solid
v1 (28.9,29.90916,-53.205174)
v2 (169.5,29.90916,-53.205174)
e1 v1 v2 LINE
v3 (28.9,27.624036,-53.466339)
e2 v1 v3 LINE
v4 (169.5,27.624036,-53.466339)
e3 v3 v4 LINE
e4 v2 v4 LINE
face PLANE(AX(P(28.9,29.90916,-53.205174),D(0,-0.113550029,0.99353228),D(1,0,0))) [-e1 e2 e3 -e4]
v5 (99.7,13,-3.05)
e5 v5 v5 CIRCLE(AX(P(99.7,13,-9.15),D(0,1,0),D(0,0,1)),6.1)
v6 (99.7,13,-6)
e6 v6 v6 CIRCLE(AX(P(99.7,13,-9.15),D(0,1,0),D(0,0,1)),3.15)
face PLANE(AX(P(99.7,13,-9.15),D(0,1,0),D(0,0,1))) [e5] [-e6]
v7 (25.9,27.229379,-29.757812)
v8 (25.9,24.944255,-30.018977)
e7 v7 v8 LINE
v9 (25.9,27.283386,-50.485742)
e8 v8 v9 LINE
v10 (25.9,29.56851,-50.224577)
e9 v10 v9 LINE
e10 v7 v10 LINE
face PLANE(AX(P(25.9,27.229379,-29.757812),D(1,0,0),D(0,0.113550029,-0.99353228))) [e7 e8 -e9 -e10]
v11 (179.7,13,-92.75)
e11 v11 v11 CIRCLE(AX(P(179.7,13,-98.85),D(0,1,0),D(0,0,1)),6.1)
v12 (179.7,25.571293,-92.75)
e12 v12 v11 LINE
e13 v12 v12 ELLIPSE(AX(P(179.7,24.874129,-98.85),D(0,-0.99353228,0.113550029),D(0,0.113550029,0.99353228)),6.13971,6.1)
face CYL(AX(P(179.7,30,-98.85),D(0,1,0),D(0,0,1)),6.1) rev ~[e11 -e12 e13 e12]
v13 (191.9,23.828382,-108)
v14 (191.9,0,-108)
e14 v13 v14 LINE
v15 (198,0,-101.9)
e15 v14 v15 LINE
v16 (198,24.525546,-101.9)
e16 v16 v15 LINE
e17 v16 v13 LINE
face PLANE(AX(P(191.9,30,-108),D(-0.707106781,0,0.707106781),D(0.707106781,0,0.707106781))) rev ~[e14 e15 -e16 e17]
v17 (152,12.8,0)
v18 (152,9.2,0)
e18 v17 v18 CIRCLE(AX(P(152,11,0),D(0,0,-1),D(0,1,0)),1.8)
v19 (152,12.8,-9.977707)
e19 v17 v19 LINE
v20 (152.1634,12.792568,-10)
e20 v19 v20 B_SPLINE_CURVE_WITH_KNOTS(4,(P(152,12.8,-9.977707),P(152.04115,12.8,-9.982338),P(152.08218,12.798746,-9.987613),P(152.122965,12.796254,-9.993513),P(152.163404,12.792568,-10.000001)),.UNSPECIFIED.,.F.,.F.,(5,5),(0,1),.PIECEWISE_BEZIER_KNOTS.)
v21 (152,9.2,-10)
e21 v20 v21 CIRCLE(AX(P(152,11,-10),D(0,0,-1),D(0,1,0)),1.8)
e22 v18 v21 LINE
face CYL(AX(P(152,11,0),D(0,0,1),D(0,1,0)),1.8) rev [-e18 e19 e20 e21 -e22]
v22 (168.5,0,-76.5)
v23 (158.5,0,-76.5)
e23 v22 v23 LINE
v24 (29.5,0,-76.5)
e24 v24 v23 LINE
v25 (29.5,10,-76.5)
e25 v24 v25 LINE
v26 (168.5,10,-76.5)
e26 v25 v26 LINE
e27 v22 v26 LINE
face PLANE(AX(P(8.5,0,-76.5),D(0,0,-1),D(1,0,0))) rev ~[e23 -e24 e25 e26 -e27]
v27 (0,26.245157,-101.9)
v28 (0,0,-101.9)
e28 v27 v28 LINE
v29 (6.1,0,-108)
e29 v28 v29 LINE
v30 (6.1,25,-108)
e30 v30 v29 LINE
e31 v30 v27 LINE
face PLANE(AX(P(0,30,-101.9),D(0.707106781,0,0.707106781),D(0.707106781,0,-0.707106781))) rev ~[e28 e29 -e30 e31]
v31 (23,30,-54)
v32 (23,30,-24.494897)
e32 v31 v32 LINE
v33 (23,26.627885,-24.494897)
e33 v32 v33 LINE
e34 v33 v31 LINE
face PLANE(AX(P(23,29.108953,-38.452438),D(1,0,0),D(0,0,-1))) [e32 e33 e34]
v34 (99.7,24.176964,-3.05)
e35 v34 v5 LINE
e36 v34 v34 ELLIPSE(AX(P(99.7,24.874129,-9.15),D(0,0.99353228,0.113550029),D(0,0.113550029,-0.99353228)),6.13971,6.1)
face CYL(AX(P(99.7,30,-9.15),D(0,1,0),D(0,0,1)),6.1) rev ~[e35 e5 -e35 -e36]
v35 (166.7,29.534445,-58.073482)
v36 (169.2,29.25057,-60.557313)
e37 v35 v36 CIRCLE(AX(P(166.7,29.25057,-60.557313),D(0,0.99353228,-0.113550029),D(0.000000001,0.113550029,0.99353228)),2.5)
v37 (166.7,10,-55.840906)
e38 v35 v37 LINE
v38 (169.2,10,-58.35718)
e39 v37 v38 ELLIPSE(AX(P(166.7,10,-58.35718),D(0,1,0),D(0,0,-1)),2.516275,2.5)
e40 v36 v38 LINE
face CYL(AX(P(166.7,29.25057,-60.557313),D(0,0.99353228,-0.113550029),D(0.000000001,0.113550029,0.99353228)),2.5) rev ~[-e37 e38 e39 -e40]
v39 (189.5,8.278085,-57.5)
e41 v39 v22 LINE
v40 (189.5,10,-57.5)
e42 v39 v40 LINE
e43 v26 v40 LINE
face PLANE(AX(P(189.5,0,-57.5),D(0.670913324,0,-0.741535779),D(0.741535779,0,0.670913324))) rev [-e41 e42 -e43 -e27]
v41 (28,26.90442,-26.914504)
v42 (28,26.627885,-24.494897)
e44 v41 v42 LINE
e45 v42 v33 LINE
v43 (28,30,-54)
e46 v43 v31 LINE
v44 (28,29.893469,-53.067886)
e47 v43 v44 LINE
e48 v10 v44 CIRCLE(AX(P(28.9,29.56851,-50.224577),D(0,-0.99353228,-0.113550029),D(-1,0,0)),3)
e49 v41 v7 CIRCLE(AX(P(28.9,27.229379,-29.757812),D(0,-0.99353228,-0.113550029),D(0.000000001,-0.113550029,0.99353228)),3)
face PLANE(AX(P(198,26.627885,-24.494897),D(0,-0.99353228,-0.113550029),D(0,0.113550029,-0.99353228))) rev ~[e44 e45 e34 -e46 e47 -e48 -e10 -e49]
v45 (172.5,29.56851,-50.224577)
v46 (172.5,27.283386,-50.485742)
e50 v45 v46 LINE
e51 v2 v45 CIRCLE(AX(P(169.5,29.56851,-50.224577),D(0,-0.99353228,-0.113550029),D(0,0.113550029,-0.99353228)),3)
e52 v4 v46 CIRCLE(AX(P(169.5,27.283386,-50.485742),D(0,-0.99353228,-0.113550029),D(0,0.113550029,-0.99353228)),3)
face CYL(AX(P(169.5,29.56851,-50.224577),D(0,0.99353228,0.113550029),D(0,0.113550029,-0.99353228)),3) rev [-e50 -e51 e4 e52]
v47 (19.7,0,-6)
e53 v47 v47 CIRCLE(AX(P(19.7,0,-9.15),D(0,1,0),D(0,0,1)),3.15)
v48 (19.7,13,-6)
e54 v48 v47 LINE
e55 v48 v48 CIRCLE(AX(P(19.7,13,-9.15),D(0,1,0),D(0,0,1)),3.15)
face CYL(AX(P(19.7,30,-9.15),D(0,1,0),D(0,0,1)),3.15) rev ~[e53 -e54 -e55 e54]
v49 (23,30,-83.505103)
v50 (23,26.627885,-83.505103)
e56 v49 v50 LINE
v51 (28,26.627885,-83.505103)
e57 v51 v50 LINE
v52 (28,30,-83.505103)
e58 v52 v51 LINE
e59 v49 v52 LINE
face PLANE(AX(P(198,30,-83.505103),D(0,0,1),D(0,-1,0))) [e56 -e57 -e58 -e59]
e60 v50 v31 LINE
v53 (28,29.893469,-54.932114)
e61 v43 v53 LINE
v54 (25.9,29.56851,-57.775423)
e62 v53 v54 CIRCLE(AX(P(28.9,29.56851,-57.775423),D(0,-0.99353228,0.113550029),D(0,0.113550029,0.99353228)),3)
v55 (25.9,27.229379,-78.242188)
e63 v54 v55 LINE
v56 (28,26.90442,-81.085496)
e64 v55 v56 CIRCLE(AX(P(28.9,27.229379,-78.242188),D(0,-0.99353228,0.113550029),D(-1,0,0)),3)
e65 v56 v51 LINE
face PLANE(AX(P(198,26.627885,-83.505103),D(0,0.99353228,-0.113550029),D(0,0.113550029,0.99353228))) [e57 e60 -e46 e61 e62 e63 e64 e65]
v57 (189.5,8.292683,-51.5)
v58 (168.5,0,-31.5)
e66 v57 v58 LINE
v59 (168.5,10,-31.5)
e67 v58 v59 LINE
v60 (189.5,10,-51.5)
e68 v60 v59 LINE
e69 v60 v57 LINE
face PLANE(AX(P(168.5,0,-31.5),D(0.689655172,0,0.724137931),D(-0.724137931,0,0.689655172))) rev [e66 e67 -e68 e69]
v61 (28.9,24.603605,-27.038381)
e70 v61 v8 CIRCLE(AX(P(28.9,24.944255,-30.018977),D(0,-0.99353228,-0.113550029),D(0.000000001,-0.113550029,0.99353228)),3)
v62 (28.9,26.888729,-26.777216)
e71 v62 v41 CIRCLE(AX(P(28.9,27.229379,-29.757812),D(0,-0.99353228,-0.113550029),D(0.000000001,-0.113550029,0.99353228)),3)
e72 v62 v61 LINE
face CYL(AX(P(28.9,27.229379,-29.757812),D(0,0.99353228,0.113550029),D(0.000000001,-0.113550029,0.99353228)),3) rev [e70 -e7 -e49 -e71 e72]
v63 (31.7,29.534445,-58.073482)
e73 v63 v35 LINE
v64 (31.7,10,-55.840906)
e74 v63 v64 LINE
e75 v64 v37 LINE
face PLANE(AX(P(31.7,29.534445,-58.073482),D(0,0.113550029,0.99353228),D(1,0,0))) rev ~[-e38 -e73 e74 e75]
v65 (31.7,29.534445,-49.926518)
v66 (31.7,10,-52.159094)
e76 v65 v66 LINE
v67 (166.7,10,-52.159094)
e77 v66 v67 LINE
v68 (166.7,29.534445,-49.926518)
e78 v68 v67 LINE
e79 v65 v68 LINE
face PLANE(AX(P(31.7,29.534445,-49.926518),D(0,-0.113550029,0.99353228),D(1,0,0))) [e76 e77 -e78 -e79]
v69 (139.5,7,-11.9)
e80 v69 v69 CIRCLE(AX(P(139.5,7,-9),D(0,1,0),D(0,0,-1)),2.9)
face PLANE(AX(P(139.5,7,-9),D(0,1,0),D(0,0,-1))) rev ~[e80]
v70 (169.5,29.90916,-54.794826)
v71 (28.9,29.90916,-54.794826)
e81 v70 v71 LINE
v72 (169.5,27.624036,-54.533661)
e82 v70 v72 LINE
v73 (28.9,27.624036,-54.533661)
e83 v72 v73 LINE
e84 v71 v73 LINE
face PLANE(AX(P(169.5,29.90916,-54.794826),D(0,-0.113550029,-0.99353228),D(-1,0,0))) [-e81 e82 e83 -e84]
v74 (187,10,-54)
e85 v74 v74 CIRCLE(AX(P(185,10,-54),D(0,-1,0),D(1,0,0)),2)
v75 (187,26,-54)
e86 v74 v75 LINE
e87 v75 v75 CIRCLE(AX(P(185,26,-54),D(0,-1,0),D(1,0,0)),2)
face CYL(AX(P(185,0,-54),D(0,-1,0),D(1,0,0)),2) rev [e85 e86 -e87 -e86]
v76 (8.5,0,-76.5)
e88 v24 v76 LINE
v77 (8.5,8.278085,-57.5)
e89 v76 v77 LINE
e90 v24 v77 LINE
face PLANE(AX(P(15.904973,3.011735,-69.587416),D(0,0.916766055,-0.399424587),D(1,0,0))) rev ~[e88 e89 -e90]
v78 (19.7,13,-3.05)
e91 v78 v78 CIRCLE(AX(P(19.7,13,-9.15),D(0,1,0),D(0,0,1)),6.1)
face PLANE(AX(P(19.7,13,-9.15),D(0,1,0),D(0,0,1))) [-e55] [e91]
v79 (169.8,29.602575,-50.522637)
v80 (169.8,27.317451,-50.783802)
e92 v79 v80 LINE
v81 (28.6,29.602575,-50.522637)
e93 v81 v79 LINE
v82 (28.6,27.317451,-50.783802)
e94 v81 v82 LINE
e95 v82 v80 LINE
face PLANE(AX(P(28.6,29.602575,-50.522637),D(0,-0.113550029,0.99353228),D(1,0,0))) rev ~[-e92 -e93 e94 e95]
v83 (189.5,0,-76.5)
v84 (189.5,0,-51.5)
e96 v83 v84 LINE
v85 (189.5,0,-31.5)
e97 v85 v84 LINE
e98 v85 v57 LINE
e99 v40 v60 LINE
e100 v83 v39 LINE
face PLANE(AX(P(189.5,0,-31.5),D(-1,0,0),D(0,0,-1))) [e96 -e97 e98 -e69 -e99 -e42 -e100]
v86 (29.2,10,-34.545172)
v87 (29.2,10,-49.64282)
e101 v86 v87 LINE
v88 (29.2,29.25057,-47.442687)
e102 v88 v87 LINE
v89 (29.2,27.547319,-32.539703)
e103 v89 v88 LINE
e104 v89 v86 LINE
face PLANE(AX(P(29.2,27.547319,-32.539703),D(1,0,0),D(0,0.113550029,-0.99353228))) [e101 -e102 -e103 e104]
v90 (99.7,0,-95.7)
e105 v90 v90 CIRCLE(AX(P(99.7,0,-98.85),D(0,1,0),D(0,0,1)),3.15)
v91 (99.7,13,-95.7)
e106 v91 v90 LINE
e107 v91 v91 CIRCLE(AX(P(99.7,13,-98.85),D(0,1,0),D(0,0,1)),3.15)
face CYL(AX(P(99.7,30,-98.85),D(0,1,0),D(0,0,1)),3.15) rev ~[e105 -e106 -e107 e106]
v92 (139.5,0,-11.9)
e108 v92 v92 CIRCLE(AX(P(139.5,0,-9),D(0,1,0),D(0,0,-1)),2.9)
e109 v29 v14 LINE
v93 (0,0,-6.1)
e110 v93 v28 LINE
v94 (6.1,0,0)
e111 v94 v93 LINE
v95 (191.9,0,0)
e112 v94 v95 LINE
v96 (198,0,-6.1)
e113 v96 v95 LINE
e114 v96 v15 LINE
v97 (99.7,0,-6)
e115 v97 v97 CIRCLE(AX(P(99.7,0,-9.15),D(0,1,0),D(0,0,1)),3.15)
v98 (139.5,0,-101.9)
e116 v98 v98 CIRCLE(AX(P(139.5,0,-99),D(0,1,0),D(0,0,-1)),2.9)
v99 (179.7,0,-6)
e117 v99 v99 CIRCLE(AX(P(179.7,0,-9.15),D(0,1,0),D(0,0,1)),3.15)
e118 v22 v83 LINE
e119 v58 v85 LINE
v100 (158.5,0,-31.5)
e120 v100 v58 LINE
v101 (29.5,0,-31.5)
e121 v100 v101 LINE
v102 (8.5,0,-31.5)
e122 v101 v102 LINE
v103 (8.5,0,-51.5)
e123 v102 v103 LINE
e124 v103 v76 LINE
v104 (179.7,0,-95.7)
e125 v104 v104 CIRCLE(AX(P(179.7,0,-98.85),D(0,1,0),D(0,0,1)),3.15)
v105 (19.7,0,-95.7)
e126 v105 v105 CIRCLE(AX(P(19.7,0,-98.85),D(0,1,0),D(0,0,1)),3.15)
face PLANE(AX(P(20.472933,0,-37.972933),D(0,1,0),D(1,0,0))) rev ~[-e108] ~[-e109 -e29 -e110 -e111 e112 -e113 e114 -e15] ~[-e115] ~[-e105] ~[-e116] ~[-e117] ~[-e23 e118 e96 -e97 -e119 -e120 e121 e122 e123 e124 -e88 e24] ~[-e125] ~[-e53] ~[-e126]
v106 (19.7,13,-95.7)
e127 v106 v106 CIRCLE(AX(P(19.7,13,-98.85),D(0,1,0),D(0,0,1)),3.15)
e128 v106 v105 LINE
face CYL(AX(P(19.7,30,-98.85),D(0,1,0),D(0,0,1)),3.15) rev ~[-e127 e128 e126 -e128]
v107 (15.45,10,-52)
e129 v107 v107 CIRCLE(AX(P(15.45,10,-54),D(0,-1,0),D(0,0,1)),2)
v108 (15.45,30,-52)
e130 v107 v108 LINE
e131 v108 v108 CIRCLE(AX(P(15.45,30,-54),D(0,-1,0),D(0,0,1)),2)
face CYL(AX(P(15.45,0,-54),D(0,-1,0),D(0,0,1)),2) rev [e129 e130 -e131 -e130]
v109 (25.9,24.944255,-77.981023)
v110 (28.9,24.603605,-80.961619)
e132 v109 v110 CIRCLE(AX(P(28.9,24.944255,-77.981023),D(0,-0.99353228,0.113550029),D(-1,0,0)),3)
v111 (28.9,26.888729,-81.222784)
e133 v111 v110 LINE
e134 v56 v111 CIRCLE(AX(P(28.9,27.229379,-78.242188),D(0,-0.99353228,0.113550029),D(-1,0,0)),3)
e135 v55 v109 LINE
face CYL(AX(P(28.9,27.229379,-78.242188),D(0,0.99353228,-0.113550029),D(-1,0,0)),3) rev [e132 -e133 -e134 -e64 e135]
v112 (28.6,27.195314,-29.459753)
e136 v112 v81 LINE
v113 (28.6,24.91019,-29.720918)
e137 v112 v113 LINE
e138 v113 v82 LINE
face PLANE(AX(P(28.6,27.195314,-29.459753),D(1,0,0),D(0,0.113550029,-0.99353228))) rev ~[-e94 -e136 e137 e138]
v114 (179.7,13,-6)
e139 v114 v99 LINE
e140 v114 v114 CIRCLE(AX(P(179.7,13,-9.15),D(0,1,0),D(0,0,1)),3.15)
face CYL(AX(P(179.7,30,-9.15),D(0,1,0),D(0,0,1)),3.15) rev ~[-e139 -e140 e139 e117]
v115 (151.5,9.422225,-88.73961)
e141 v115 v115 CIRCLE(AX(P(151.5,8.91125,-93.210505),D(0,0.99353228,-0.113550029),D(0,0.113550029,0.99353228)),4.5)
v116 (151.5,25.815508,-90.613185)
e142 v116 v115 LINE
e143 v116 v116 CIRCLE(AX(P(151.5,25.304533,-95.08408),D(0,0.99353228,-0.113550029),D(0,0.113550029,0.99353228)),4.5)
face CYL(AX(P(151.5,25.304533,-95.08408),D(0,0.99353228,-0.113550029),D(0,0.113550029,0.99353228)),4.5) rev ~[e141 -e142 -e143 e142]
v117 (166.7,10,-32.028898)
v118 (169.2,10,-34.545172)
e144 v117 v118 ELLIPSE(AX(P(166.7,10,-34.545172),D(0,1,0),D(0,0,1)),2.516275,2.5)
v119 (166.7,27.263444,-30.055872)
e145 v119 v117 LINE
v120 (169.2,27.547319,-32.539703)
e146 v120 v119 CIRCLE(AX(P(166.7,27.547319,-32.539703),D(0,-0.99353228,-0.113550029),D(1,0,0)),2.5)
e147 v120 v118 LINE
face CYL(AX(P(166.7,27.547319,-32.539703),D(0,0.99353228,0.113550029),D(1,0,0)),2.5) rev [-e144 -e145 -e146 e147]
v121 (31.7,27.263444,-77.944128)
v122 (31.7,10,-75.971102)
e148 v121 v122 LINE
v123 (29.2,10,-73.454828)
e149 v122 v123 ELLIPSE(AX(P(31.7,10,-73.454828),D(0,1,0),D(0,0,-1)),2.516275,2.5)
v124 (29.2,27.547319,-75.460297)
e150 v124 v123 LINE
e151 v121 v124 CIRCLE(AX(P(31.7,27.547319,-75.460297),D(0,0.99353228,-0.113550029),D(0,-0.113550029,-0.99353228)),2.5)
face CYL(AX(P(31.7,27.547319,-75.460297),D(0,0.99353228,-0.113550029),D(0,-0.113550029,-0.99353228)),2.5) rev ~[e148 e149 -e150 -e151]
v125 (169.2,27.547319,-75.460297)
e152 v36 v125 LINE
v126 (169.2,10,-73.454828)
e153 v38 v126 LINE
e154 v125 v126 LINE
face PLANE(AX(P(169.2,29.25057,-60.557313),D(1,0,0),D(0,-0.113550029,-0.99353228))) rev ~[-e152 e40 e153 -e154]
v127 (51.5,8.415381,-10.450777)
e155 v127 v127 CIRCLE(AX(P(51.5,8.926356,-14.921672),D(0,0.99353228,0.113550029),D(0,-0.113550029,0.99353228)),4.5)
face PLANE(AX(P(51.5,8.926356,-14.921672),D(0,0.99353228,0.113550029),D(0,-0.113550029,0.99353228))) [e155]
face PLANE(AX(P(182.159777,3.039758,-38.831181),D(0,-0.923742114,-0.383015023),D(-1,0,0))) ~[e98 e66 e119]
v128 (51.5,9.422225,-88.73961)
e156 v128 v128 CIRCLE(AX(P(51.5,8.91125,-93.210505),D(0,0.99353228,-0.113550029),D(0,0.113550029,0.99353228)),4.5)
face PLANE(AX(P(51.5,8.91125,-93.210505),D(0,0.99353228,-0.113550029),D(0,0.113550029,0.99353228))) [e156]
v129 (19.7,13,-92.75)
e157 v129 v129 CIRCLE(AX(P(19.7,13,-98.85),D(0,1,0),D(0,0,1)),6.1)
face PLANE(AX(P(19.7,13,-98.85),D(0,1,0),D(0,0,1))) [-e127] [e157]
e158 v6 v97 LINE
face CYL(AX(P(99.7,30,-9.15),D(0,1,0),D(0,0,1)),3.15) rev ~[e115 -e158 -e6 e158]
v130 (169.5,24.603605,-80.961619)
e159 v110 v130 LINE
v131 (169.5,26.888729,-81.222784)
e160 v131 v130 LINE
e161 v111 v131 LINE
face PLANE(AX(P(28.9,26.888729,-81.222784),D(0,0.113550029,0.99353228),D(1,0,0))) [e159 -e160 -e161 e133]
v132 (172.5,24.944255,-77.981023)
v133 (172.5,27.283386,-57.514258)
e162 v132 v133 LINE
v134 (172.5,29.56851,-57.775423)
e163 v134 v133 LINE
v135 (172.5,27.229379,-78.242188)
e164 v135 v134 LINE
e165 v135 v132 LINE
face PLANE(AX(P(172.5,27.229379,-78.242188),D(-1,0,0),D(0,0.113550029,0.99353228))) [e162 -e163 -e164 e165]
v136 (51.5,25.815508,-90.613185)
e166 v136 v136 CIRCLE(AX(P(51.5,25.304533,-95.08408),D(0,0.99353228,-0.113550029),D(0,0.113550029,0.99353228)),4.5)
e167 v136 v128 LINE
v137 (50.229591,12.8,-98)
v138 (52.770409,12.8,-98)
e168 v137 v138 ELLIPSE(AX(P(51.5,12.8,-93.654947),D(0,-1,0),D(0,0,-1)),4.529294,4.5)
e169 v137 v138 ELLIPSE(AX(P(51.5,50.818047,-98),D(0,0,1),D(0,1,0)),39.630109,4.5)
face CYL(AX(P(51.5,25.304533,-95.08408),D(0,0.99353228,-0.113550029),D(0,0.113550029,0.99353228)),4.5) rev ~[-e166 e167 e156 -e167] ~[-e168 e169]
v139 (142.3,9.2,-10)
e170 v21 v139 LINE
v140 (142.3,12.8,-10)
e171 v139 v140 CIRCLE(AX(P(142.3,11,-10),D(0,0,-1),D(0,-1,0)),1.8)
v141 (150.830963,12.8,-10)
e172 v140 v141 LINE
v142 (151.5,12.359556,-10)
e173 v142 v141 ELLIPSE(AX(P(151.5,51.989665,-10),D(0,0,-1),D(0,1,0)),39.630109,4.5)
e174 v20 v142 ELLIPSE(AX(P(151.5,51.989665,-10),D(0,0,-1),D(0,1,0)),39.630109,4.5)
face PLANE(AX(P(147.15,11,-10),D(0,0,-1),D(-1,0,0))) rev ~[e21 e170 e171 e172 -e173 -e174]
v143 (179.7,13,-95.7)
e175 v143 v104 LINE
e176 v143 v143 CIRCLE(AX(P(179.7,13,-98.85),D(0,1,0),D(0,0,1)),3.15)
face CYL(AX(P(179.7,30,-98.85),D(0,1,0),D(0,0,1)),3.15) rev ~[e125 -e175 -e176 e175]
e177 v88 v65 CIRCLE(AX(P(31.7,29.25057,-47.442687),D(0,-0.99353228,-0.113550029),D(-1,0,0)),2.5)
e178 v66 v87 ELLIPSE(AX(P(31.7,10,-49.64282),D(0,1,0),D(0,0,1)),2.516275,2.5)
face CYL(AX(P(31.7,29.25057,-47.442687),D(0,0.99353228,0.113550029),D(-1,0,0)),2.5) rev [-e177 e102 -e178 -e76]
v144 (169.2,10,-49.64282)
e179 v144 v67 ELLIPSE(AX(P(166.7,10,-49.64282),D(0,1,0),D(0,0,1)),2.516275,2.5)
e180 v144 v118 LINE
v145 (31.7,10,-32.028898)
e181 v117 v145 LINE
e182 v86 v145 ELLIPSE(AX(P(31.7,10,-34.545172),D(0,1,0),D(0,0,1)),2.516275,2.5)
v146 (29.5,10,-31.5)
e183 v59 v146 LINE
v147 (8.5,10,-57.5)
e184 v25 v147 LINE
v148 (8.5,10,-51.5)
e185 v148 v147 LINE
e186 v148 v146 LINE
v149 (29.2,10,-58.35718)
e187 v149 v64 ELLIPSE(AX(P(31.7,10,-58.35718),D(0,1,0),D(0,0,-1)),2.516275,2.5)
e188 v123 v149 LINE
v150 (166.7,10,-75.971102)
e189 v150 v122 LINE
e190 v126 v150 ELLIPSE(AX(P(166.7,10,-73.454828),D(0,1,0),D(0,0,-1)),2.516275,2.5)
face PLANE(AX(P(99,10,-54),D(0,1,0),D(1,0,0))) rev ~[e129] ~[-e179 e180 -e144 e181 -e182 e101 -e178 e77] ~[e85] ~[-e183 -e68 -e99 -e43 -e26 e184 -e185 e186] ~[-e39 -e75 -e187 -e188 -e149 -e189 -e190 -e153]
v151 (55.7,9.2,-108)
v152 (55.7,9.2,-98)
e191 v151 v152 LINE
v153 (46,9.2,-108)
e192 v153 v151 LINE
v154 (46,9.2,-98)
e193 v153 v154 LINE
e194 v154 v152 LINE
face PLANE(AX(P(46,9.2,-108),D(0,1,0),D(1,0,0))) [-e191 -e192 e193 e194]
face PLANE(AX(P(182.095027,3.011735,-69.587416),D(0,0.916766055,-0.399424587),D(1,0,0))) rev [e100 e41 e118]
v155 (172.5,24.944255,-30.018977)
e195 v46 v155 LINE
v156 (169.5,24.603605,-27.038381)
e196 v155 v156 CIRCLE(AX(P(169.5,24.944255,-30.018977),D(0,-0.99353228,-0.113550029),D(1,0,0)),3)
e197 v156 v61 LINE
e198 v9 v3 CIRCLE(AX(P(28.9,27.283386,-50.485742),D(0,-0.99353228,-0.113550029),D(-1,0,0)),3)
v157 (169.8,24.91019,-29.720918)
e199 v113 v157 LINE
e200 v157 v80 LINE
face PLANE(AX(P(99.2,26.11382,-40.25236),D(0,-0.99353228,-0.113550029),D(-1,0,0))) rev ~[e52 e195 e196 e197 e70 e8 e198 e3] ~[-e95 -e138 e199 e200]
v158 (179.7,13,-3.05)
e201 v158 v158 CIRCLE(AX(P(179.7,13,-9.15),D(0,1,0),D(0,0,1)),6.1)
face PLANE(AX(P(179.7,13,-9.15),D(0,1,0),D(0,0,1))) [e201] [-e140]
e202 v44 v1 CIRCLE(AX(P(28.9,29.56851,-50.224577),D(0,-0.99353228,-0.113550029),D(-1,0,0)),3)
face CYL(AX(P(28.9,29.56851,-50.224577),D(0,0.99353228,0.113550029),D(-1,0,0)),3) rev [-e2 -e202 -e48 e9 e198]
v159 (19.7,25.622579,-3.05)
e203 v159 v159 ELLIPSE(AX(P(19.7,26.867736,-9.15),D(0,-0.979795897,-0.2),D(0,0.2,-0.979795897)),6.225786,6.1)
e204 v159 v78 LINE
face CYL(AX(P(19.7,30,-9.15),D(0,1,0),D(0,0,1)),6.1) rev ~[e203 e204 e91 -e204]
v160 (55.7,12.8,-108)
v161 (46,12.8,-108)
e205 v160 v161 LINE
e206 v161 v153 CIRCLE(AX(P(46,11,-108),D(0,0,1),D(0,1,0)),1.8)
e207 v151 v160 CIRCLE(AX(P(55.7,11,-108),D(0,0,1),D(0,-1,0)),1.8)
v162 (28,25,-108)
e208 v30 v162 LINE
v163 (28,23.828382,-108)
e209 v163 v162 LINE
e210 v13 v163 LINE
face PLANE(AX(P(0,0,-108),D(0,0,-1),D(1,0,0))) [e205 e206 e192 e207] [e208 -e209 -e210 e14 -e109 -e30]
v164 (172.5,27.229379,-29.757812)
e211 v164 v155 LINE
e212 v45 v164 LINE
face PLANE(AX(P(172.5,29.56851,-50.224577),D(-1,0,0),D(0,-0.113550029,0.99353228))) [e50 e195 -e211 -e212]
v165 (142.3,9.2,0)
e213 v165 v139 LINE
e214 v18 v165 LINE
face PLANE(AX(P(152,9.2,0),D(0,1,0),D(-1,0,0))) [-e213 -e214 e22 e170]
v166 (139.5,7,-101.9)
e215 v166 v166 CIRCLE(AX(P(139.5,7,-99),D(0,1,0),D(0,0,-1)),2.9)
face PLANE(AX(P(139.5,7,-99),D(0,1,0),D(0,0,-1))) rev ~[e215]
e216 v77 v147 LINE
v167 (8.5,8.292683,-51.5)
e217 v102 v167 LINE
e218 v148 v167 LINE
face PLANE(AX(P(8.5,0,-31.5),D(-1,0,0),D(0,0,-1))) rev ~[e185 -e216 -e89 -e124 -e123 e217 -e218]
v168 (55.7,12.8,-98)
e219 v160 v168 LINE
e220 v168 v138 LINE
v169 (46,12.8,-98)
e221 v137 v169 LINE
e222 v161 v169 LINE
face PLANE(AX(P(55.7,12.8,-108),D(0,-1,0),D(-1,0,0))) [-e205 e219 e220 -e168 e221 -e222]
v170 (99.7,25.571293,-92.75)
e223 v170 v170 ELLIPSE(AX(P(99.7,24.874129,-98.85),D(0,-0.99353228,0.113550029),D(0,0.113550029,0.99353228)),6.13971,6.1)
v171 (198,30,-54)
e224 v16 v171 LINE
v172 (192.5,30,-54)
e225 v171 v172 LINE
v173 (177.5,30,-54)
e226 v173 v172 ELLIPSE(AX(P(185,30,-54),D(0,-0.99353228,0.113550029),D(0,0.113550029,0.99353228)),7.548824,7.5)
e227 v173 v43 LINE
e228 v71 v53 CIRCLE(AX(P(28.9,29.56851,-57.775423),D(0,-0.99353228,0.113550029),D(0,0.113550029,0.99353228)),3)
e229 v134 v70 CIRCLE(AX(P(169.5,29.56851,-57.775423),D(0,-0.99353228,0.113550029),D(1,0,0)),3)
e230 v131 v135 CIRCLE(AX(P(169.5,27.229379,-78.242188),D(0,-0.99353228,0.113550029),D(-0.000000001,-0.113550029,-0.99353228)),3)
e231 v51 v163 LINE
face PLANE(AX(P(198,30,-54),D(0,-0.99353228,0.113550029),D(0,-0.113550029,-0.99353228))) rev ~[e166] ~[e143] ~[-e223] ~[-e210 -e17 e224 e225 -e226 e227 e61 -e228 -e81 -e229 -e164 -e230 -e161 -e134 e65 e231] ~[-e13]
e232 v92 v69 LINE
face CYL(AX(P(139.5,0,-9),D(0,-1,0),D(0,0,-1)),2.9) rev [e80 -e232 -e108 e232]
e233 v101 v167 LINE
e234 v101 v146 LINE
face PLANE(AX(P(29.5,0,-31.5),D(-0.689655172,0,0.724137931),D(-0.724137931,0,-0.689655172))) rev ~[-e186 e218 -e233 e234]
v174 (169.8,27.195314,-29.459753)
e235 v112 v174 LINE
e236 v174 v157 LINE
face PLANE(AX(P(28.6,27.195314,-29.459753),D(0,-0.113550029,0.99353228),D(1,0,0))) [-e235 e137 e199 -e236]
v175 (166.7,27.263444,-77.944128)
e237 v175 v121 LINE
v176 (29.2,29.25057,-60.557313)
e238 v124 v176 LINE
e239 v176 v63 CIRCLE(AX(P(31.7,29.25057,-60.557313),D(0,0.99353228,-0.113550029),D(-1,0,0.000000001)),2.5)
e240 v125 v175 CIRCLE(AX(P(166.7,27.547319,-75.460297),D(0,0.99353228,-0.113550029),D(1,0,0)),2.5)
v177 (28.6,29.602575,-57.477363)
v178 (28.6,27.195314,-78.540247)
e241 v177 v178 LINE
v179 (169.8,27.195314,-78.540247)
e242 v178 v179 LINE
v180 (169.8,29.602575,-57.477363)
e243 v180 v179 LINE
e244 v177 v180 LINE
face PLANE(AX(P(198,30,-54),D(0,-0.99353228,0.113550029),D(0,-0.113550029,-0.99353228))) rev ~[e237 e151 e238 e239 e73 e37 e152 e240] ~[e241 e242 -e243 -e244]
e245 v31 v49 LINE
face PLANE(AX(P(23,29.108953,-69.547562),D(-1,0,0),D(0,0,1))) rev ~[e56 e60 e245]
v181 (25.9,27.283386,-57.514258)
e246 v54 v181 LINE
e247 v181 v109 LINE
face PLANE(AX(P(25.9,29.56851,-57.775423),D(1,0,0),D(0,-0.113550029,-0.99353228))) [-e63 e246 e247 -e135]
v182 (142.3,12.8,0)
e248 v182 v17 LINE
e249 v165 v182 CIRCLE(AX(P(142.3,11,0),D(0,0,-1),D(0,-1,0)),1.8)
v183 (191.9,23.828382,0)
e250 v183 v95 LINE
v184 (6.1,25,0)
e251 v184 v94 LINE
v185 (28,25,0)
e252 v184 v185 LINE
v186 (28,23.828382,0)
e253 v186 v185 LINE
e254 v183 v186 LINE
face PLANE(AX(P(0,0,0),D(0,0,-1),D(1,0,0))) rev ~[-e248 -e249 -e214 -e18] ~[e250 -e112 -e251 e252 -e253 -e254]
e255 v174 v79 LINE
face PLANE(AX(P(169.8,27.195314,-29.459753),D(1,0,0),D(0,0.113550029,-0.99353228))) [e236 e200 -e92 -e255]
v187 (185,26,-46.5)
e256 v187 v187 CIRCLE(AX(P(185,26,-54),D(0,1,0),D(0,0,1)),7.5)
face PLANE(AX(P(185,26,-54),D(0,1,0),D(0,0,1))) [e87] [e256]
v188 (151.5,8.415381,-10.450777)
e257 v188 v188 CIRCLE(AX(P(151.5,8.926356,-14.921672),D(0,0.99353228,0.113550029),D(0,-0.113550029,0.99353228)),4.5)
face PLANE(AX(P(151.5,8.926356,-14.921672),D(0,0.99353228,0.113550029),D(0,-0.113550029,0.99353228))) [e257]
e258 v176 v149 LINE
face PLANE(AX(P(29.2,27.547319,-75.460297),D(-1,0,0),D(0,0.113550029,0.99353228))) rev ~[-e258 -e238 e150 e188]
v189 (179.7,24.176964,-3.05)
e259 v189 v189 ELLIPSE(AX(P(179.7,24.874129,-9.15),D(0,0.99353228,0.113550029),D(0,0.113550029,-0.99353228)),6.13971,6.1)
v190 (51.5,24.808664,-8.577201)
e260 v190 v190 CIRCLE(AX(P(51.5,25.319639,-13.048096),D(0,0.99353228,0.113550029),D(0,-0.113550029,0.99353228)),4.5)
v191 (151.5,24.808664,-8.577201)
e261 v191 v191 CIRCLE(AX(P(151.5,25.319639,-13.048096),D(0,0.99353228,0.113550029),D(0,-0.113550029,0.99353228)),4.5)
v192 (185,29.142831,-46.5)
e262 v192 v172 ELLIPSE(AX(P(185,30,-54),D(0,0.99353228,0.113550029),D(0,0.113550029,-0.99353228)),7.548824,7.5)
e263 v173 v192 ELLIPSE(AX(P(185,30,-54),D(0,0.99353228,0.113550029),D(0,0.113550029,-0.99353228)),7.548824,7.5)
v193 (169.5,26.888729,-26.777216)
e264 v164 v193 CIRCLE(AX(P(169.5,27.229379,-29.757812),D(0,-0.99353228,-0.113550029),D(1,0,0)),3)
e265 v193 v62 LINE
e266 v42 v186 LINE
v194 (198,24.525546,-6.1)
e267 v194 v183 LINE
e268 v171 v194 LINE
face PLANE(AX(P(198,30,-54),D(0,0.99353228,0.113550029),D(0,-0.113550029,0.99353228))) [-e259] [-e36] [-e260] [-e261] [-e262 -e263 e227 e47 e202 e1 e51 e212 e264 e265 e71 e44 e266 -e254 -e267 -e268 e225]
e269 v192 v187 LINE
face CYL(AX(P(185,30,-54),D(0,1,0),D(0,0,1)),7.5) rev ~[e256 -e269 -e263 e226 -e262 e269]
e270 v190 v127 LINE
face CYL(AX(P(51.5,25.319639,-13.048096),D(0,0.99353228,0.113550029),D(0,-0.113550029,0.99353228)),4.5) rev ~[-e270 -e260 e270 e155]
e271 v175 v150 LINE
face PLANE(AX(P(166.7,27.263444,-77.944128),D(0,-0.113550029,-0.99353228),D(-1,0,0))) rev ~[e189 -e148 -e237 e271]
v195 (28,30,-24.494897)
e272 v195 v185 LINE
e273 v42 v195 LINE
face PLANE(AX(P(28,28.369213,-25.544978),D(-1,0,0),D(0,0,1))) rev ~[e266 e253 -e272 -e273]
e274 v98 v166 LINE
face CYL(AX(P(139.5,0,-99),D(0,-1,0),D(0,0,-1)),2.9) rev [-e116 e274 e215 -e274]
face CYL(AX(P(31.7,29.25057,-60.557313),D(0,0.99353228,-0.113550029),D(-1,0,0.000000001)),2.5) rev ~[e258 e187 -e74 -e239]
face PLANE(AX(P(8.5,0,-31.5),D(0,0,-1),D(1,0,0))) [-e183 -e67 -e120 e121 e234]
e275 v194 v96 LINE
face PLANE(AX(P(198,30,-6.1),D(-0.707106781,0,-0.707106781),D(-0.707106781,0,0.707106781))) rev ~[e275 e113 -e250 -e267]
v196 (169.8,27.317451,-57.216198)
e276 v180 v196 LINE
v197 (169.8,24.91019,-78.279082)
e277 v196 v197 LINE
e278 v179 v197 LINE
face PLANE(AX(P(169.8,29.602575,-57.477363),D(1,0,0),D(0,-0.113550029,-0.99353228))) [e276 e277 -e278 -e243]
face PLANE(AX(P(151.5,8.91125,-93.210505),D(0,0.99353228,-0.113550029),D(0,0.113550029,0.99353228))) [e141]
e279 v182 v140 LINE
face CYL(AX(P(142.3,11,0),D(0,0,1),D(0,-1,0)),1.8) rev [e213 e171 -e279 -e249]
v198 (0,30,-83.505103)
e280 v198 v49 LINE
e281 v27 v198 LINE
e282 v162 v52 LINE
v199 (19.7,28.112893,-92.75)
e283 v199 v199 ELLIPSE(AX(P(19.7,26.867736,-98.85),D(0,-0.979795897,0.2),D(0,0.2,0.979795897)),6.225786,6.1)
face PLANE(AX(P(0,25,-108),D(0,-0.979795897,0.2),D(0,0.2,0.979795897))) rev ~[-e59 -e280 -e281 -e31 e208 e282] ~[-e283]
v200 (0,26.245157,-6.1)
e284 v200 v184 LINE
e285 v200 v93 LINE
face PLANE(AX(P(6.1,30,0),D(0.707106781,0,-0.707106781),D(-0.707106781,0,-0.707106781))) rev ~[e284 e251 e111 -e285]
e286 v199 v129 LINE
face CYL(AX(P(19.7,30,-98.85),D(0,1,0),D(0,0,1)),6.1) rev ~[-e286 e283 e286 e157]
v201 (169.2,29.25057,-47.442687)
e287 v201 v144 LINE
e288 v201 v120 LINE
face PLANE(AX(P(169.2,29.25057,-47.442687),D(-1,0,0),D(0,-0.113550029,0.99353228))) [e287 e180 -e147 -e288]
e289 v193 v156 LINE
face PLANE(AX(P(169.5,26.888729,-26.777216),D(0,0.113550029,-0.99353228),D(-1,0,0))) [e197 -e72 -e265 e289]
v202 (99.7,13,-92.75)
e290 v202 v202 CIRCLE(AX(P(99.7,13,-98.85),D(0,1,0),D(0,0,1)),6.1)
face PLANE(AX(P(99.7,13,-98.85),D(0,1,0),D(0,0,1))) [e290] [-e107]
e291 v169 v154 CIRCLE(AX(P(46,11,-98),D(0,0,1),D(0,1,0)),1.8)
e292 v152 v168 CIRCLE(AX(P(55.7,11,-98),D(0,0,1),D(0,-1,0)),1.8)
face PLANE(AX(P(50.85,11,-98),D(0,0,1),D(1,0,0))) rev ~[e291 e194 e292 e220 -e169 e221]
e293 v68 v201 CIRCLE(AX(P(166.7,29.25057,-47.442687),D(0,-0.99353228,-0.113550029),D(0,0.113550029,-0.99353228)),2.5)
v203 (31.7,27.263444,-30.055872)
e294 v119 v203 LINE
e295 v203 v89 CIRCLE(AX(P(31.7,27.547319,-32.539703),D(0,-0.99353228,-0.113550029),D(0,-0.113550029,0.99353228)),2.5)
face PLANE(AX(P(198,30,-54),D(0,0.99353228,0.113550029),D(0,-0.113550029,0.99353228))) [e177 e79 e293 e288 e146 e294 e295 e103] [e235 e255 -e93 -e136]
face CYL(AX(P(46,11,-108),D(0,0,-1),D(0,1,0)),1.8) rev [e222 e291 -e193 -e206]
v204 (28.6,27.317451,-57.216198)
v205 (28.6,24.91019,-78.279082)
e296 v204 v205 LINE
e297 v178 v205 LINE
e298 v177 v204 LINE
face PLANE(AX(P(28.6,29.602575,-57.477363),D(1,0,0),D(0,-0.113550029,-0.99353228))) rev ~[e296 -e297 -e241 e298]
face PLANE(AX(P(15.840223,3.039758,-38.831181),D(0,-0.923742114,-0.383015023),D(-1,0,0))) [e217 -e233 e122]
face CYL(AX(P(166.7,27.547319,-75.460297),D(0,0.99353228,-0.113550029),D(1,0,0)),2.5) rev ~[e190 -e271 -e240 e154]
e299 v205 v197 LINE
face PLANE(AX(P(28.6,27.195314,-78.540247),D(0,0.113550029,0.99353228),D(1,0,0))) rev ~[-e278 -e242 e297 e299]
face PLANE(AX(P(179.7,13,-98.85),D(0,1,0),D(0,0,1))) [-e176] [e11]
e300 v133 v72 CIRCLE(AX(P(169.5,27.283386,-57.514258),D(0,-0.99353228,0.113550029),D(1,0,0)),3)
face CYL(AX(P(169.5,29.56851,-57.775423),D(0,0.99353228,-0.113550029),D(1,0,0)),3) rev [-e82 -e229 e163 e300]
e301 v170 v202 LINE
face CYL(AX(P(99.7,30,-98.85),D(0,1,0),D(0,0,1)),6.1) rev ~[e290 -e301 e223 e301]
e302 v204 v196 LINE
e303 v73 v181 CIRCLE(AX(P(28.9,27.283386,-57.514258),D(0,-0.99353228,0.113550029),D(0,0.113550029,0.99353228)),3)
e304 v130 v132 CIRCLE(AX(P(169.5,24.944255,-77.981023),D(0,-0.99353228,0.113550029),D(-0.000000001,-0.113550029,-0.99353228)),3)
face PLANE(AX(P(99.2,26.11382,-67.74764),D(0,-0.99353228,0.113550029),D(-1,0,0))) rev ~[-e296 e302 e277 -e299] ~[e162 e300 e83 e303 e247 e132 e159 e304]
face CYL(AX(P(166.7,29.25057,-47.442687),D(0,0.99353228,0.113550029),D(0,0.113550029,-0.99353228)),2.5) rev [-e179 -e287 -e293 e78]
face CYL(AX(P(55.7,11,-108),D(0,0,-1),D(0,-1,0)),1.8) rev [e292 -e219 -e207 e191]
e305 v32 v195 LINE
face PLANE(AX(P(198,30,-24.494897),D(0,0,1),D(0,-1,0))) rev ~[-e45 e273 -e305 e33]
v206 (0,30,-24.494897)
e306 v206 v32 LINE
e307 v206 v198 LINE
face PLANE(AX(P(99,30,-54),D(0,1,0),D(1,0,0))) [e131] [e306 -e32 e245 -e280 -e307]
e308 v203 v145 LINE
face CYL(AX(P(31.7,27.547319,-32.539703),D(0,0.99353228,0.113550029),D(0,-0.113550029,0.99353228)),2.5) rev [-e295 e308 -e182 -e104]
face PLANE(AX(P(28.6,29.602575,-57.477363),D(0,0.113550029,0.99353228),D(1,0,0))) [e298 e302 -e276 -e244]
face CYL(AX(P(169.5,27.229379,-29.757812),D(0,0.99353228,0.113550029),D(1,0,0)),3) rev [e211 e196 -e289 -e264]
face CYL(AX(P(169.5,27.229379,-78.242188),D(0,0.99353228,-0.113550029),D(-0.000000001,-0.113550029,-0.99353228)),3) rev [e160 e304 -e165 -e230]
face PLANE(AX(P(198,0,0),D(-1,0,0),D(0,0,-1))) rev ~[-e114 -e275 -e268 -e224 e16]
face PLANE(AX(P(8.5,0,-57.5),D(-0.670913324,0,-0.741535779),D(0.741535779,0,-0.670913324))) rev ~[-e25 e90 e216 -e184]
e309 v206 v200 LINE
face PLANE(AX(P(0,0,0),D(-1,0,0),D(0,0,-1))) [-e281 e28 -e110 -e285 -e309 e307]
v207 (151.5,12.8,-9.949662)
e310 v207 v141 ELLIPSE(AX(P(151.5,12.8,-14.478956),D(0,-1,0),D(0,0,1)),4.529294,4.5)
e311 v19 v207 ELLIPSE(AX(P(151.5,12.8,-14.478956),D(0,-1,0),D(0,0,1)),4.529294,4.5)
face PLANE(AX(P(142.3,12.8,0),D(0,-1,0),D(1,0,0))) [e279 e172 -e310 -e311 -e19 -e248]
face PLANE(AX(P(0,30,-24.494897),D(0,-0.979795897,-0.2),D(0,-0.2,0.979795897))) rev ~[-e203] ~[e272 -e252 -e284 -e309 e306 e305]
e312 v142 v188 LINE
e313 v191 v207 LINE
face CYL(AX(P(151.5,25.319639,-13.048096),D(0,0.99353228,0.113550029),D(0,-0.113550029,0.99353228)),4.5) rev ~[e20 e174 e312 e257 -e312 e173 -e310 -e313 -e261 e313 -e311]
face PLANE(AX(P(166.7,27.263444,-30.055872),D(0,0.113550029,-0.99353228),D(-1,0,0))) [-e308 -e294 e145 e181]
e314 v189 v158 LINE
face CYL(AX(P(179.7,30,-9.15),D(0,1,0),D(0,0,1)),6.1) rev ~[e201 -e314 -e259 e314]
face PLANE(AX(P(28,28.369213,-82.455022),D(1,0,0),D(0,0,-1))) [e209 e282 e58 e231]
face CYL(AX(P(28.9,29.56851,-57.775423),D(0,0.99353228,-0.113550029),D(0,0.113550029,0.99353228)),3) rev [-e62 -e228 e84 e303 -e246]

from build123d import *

# Parameters (mm, degrees)
SKETCH1_W            = 198
SKETCH1_H            = 108
BOSS_EXTRUDE1_DEPTH  = 30
SKETCH4_W            = 181
SKETCH4_H            = 45
CUT_EXTRUDE2_DEPTH   = 10
CUT_EXTRUDE3_DEPTH   = 170
BOSS_EXTRUDE11_DEPTH = 10
CUT_EXTRUDE12_DEPTH  = 170
CUT_EXTRUDE28_DEPTH  = 14.5
CUT_EXTRUDE29_DEPTH  = 14.5
CUT_EXTRUDE40_REACH  = 229.526
CUT_EXTRUDE5_DEPTH   = 28
SKETCH12_R           = 3.15
CUT_EXTRUDE9_DEPTH   = 228.52582271
SKETCH13_R           = 4.5
CUT_EXTRUDE10_DEPTH  = 16.5
SKETCH14_R           = 4.5
CUT_EXTRUDE11_DEPTH  = 16.5
SKETCH41_R           = 2.9
CUT_EXTRUDE21_DEPTH  = 7
CUT_EXTRUDE22_DEPTH  = 10
CUT_EXTRUDE23_DEPTH  = 10
SKETCH6_W            = 141.2
SKETCH6_H            = 21.2
CUT_EXTRUDE32_DEPTH  = 2.3
SKETCH23_W           = 141.2
SKETCH23_H           = 21.2
CUT_EXTRUDE33_DEPTH  = 2.3
CUT_EXTRUDE34_DEPTH  = 55.4
CUT_EXTRUDE35_DEPTH  = 55.4
CUT_EXTRUDE36_DEPTH  = 55.4
SKETCH90_R           = 6.1
CUT_EXTRUDE38_DEPTH  = 17
SKETCH96_R           = 2
CUT_EXTRUDE39_DEPTH  = 228.52582271
SKETCH98_R           = 7.5
CUT_EXTRUDE41_DEPTH  = 4
CUT_EXTRUDE42_DEPTH  = 175
CUT_EXTRUDE43_DEPTH  = 175


with BuildPart() as part:
    # Sketch1 → Boss-Extrude1 (new body)
    with BuildSketch(Plane(origin=(0, 0, 0), x_dir=(1, 0, 0), z_dir=(0, 1, 0))):
        with Locations((99, 54)):
            Rectangle(SKETCH1_W, SKETCH1_H)
    extrude(amount=BOSS_EXTRUDE1_DEPTH)

    # Sketch4 → Cut-Extrude2 (cut)
    with BuildSketch(Plane(origin=(0, 0, 0), x_dir=(1, 0, 0), z_dir=(0, 1, 0))):
        with Locations((99, 54)):
            Rectangle(SKETCH4_W, SKETCH4_H)
    extrude(amount=CUT_EXTRUDE2_DEPTH, mode=Mode.SUBTRACT)

    # Sketch5 → Cut-Extrude3 (cut)
    with BuildSketch(Plane(origin=(198, 0, 0), x_dir=(0, 0, -1), z_dir=(1, 0, 0))):
        Polygon((54, 30), (108, 23.828382143), (108, 30), align=None)
    extrude(amount=-CUT_EXTRUDE3_DEPTH, mode=Mode.SUBTRACT)

    # Sketch53 → Boss-Extrude11 (add)
    with BuildSketch(Plane(origin=(0, 10, 0), x_dir=(-1, 0, 0), z_dir=(0, -1, 0))):
        Polygon((-8.5, 51.5), (-8.5, 31.5), (-39.5, 31.5), align=None)
        Polygon((-8.5, 56.5), (-8.5, 76.5), (-39.5, 76.5), align=None)
        Polygon((-158.5, 76.5), (-189.5, 56.5), (-189.5, 76.5), align=None)
        Polygon((-158.5, 31.5), (-189.5, 51.5), (-189.5, 31.5), align=None)
    extrude(amount=BOSS_EXTRUDE11_DEPTH)

    # Sketch18 → Cut-Extrude12 (cut)
    with BuildSketch(Plane(origin=(198, 0, 0), x_dir=(0, 0, -1), z_dir=(1, 0, 0))):
        Polygon((0, 23.828382143), (0, 30), (54, 30), align=None)
    extrude(amount=-CUT_EXTRUDE12_DEPTH, mode=Mode.SUBTRACT)

    # Izq → Cut-Extrude28 (cut)
    with BuildSketch(Plane(origin=(0, 28.012686094, -12.204810084), x_dir=(1, 0, 0), z_dir=(0, 0.9167660546215654, -0.3994245874925693))):
        Polygon((8.5, 48.862182113), (29.5, 70.132603179), (8.5, 70.132603179), align=None)
    cut_extrude28 = extrude(amount=-CUT_EXTRUDE28_DEPTH, mode=Mode.SUBTRACT)

    # Der → Cut-Extrude29 (cut)
    with BuildSketch(Plane(origin=(0, -11.144923858, -4.62106599), x_dir=(1, 0, 0), z_dir=(0, 0.9237421135716327, 0.38301502270043264))):
        Polygon((8.5, 51.290217599), (29.5, 29.097876578), (8.5, 29.097876578), align=None)
    cut_extrude29 = extrude(amount=-CUT_EXTRUDE29_DEPTH, mode=Mode.SUBTRACT)

    # Cut-Extrude40: up to this face of the body (flat: up to its plane)
    cut_extrude40_end = Plane(part.part.faces().sort_by_distance((99, 10, -54))[0])
    # Sketch97 → Cut-Extrude40 (cut, up to the picked face)
    with BuildSketch(Plane(origin=(0, 0, 0), x_dir=(1, 0, 0), z_dir=(0, 1, 0)), mode=Mode.PRIVATE) as cut_extrude40_sk1:
        Polygon((8.5, 57.5), (29.5, 76.5), (158.5, 76.5), (189.5, 56.5), (189.5, 51.5), (158.5, 31.5), (29.5, 31.5), (8.5, 51.5), align=None)
    cut_extrude40_tool1 = split(extrude(cut_extrude40_sk1.sketch, amount=CUT_EXTRUDE40_REACH, mode=Mode.PRIVATE), bisect_by=cut_extrude40_end, keep=Keep.BOTH, mode=Mode.PRIVATE)
    cut_extrude40 = cut_extrude40_tool1.solids().sort_by(Axis((96.82024, 0, -54.014019), (0, 1, 0)))[0]
    add(cut_extrude40, mode=Mode.SUBTRACT)

    # Mirror2: Cut-Extrude28, Cut-Extrude29, Cut-Extrude40 across plane
    add(cut_extrude28.mirror(Plane(origin=(99, 0, 0), x_dir=(0, 0, 1), z_dir=(1, 0, 0))), mode=Mode.SUBTRACT)
    add(cut_extrude29.mirror(Plane(origin=(99, 0, 0), x_dir=(0, 0, 1), z_dir=(1, 0, 0))), mode=Mode.SUBTRACT)
    add(cut_extrude40.mirror(Plane(origin=(99, 0, 0), x_dir=(0, 0, 1), z_dir=(1, 0, 0))), mode=Mode.SUBTRACT)

    # Sketch7 → Cut-Extrude5 (cut)
    with BuildSketch(Plane(origin=(0, 0, 0), x_dir=(0, 0, -1), z_dir=(1, 0, 0))):
        Polygon((108, 30), (108, 25), (83.505102572, 30), align=None)
        Polygon((0, 25), (0, 30), (24.494897428, 30), align=None)
    extrude(amount=CUT_EXTRUDE5_DEPTH, mode=Mode.SUBTRACT)

    # Sketch12 → Cut-Extrude9 (cut, through all)
    with BuildSketch(Plane(origin=(0, 30, 0), x_dir=(1, 0, 0), z_dir=(0, 1, 0))):
        with Locations(Location((19.7, 98.85, 0), (0, 0, 270))):
            Circle(SKETCH12_R)
        with Locations(Location((99.7, 9.15, 0), (0, 0, 270))):
            Circle(SKETCH12_R)
        with Locations(Location((179.7, 9.15, 0), (0, 0, 270))):
            Circle(SKETCH12_R)
        with Locations(Location((19.7, 9.15, 0), (0, 0, 270))):
            Circle(SKETCH12_R)
        with Locations(Location((99.7, 98.85, 0), (0, 0, 270))):
            Circle(SKETCH12_R)
        with Locations(Location((179.7, 98.85, 0), (0, 0, 270))):
            Circle(SKETCH12_R)
    extrude(amount=-CUT_EXTRUDE9_DEPTH, mode=Mode.SUBTRACT)

    # Sketch13 → Cut-Extrude10 (cut)
    with BuildSketch(Plane(origin=(0, 35.705235157, -4.080723461), x_dir=(1, 0, 0), z_dir=(0, 0.9935322797694506, -0.11355002886885623))):
        with Locations(Location((51.5, 91.595772735, 0), (0, 0, 270))):
            Circle(SKETCH13_R)
        with Locations(Location((151.5, 91.595772735, 0), (0, 0, 270))):
            Circle(SKETCH13_R)
    extrude(amount=-CUT_EXTRUDE10_DEPTH, mode=Mode.SUBTRACT)

    # Sketch14 → Cut-Extrude11 (cut)
    with BuildSketch(Plane(origin=(0, 23.187709355, 5.605714967), x_dir=(1, 0, 0), z_dir=(0, 0.9935322797694507, 0.11355002886885664))):
        with Locations(Location((51.5, 18.775244426, 0), (0, 0, 270))):
            Circle(SKETCH14_R)
        with Locations(Location((151.5, 18.775244426, 0), (0, 0, 270))):
            Circle(SKETCH14_R)
    extrude(amount=-CUT_EXTRUDE11_DEPTH, mode=Mode.SUBTRACT)

    # Sketch41 → Cut-Extrude21 (cut)
    with BuildSketch(Plane(origin=(0, 0, 0), x_dir=(1, 0, 0), z_dir=(0, 1, 0))):
        with Locations(Location((139.5, 9, 0), (0, 0, 90))):
            Circle(SKETCH41_R)
        with Locations(Location((139.5, 99, 0), (0, 0, 90))):
            Circle(SKETCH41_R)
    extrude(amount=CUT_EXTRUDE21_DEPTH, mode=Mode.SUBTRACT)

    # Sketch42 → Cut-Extrude22 (cut)
    with BuildSketch(Plane.XY):
        with BuildLine():
            Line((142.3, 12.8), (152, 12.8))
            ThreePointArc((152, 12.8), (153.8, 11), (152, 9.2))
            Line((152, 9.2), (142.3, 9.2))
            ThreePointArc((142.3, 9.2), (140.5, 11), (142.3, 12.8))
        make_face()
    extrude(amount=-CUT_EXTRUDE22_DEPTH, mode=Mode.SUBTRACT)

    # Sketch43 → Cut-Extrude23 (cut)
    with BuildSketch(Plane(origin=(0, 0, -108), x_dir=(-1, 0, 0), z_dir=(0, 0, -1))):
        with BuildLine():
            Line((-55.7, 12.8), (-46, 12.8))
            ThreePointArc((-46, 12.8), (-44.2, 11), (-46, 9.2))
            Line((-46, 9.2), (-55.7, 9.2))
            ThreePointArc((-55.7, 9.2), (-57.5, 11), (-55.7, 12.8))
        make_face()
    extrude(amount=-CUT_EXTRUDE23_DEPTH, mode=Mode.SUBTRACT)

    # Sketch6 → Cut-Extrude32 (cut)
    with BuildSketch(Plane(origin=(0, 35.705235157, -4.080723461), x_dir=(1, 0, 0), z_dir=(0, 0.9935322797694506, -0.11355002886885623))):
        with BuildLine():
            Line((28.9, 77.644242241), (169.5, 77.644242241))
            ThreePointArc((169.5, 77.644242241), (171.621320344, 76.765562585), (172.5, 74.644242241))
            Line((172.5, 74.644242241), (172.5, 54.044242241))
            ThreePointArc((172.5, 54.044242241), (171.621320344, 51.922921898), (169.5, 51.044242241))
            Line((169.5, 51.044242241), (28.9, 51.044242241))
            ThreePointArc((28.9, 51.044242241), (26.778679656, 51.922921898), (25.9, 54.044242241))
            Line((25.9, 54.044242241), (25.9, 74.644242241))
            ThreePointArc((25.9, 74.644242241), (26.778679656, 76.765562585), (28.9, 77.644242241))
        make_face()
        with Locations((99.2, 64.344242241)):
            Rectangle(SKETCH6_W, SKETCH6_H, mode=Mode.SUBTRACT)
    extrude(amount=-CUT_EXTRUDE32_DEPTH, mode=Mode.SUBTRACT)

    # Sketch23 → Cut-Extrude33 (cut)
    with BuildSketch(Plane(origin=(0, 23.5211483, 2.688213682), x_dir=(1, 0, 0), z_dir=(0, 0.9935322797694506, 0.11355002886885662))):
        with BuildLine():
            Line((28.9, 56.257243974), (169.5, 56.257243974))
            ThreePointArc((169.5, 56.257243974), (171.621320344, 55.378564317), (172.5, 53.257243974))
            Line((172.5, 53.257243974), (172.5, 32.657243974))
            ThreePointArc((172.5, 32.657243974), (171.621320344, 30.53592363), (169.5, 29.657243974))
            Line((169.5, 29.657243974), (28.9, 29.657243974))
            ThreePointArc((28.9, 29.657243974), (26.778679656, 30.53592363), (25.9, 32.657243974))
            Line((25.9, 32.657243974), (25.9, 53.257243974))
            ThreePointArc((25.9, 53.257243974), (26.778679656, 55.378564317), (28.9, 56.257243974))
        make_face()
        with Locations((99.2, 42.957243974)):
            Rectangle(SKETCH23_W, SKETCH23_H, mode=Mode.SUBTRACT)
    extrude(amount=-CUT_EXTRUDE33_DEPTH, mode=Mode.SUBTRACT)

    # Sketch83 → Cut-Extrude34 (cut)
    with BuildSketch(Plane(origin=(0, 23.5211483, 2.688213682), x_dir=(1, 0, 0), z_dir=(0, 0.9935322797694506, 0.11355002886885662))):
        with BuildLine():
            Line((31.7, 52.957243974), (166.7, 52.957243974))
            ThreePointArc((166.7, 52.957243974), (168.467766953, 52.225010927), (169.2, 50.457243974))
            Line((169.2, 50.457243974), (169.2, 35.457243974))
            ThreePointArc((169.2, 35.457243974), (168.467766953, 33.689477021), (166.7, 32.957243974))
            Line((166.7, 32.957243974), (31.7, 32.957243974))
            ThreePointArc((31.7, 32.957243974), (29.932233047, 33.689477021), (29.2, 35.457243974))
            Line((29.2, 35.457243974), (29.2, 50.457243974))
            ThreePointArc((29.2, 50.457243974), (29.932233047, 52.225010927), (31.7, 52.957243974))
        make_face()
    extrude(amount=-CUT_EXTRUDE34_DEPTH, mode=Mode.SUBTRACT)

    # Sketch84 → Cut-Extrude35 (cut)
    with BuildSketch(Plane(origin=(0, 35.705235157, -4.080723461), x_dir=(1, 0, 0), z_dir=(0, 0.9935322797694506, -0.11355002886885623))):
        with BuildLine():
            Line((31.7, 54.344242241), (166.7, 54.344242241))
            ThreePointArc((166.7, 54.344242241), (168.467766953, 55.076475289), (169.2, 56.844242241))
            Line((169.2, 56.844242241), (169.2, 71.844242241))
            ThreePointArc((169.2, 71.844242241), (168.467766953, 73.612009194), (166.7, 74.344242241))
            Line((166.7, 74.344242241), (31.7, 74.344242241))
            ThreePointArc((31.7, 74.344242241), (29.932233047, 73.612009194), (29.2, 71.844242241))
            Line((29.2, 71.844242241), (29.2, 56.844242241))
            ThreePointArc((29.2, 56.844242241), (29.932233047, 55.076475289), (31.7, 54.344242241))
        make_face()
    extrude(amount=-CUT_EXTRUDE35_DEPTH, mode=Mode.SUBTRACT)

    # Sketch85 → Cut-Extrude36 (cut)
    with BuildSketch(Plane(origin=(0, 30, 0), x_dir=(1, 0, 0), z_dir=(0, 1, 0))):
        Polygon((0, 101.9), (6.1, 108), (0, 108), align=None)
        Polygon((0, 0), (6.1, 0), (0, 6.1), align=None)
        Polygon((198, 6.1), (191.9, 0), (198, 0), align=None)
        Polygon((198, 108), (191.9, 108), (198, 101.9), align=None)
    extrude(amount=-CUT_EXTRUDE36_DEPTH, mode=Mode.SUBTRACT)

    # Sketch90 → Cut-Extrude38 (cut)
    with BuildSketch(Plane(origin=(0, 30, 0), x_dir=(1, 0, 0), z_dir=(0, 1, 0))):
        with Locations(Location((19.7, 9.15, 0), (0, 0, 270))):
            Circle(SKETCH90_R)
        with Locations(Location((99.7, 9.15, 0), (0, 0, 270))):
            Circle(SKETCH90_R)
        with Locations(Location((179.7, 9.15, 0), (0, 0, 270))):
            Circle(SKETCH90_R)
        with Locations(Location((99.7, 98.85, 0), (0, 0, 270))):
            Circle(SKETCH90_R)
        with Locations(Location((179.7, 98.85, 0), (0, 0, 270))):
            Circle(SKETCH90_R)
        with Locations(Location((19.7, 98.85, 0), (0, 0, 270))):
            Circle(SKETCH90_R)
    extrude(amount=-CUT_EXTRUDE38_DEPTH, mode=Mode.SUBTRACT)

    # Sketch96 → Cut-Extrude39 (cut, through all)
    with BuildSketch(Plane(origin=(0, 0, 0), x_dir=(1, 0, 0), z_dir=(0, 1, 0))):
        with Locations(Location((15.45, 54, 0), (0, 0, 270))):
            Circle(SKETCH96_R)
        with Locations((185, 54)):
            Circle(SKETCH96_R)
    extrude(amount=CUT_EXTRUDE39_DEPTH, mode=Mode.SUBTRACT)

    # Sketch98 → Cut-Extrude41 (cut)
    with BuildSketch(Plane(origin=(0, 30, 0), x_dir=(1, 0, 0), z_dir=(0, 1, 0))):
        with Locations(Location((185, 54, 0), (0, 0, 270))):
            Circle(SKETCH98_R)
    extrude(amount=-CUT_EXTRUDE41_DEPTH, mode=Mode.SUBTRACT)

    # Sketch100 → Cut-Extrude42 (cut)
    with BuildSketch(Plane(origin=(198, 0, 0), x_dir=(0, 0, -1), z_dir=(1, 0, 0))):
        Polygon((24.494897428, 30), (24.494897428, 26.627884854), (54, 30), align=None)
    extrude(amount=-CUT_EXTRUDE42_DEPTH, mode=Mode.SUBTRACT)

    # Sketch101 → Cut-Extrude43 (cut)
    with BuildSketch(Plane(origin=(198, 0, 0), x_dir=(0, 0, -1), z_dir=(1, 0, 0))):
        Polygon((54, 30), (83.505102572, 30), (83.505102572, 26.627884854), align=None)
    extrude(amount=-CUT_EXTRUDE43_DEPTH, mode=Mode.SUBTRACT)


solid = part.part
